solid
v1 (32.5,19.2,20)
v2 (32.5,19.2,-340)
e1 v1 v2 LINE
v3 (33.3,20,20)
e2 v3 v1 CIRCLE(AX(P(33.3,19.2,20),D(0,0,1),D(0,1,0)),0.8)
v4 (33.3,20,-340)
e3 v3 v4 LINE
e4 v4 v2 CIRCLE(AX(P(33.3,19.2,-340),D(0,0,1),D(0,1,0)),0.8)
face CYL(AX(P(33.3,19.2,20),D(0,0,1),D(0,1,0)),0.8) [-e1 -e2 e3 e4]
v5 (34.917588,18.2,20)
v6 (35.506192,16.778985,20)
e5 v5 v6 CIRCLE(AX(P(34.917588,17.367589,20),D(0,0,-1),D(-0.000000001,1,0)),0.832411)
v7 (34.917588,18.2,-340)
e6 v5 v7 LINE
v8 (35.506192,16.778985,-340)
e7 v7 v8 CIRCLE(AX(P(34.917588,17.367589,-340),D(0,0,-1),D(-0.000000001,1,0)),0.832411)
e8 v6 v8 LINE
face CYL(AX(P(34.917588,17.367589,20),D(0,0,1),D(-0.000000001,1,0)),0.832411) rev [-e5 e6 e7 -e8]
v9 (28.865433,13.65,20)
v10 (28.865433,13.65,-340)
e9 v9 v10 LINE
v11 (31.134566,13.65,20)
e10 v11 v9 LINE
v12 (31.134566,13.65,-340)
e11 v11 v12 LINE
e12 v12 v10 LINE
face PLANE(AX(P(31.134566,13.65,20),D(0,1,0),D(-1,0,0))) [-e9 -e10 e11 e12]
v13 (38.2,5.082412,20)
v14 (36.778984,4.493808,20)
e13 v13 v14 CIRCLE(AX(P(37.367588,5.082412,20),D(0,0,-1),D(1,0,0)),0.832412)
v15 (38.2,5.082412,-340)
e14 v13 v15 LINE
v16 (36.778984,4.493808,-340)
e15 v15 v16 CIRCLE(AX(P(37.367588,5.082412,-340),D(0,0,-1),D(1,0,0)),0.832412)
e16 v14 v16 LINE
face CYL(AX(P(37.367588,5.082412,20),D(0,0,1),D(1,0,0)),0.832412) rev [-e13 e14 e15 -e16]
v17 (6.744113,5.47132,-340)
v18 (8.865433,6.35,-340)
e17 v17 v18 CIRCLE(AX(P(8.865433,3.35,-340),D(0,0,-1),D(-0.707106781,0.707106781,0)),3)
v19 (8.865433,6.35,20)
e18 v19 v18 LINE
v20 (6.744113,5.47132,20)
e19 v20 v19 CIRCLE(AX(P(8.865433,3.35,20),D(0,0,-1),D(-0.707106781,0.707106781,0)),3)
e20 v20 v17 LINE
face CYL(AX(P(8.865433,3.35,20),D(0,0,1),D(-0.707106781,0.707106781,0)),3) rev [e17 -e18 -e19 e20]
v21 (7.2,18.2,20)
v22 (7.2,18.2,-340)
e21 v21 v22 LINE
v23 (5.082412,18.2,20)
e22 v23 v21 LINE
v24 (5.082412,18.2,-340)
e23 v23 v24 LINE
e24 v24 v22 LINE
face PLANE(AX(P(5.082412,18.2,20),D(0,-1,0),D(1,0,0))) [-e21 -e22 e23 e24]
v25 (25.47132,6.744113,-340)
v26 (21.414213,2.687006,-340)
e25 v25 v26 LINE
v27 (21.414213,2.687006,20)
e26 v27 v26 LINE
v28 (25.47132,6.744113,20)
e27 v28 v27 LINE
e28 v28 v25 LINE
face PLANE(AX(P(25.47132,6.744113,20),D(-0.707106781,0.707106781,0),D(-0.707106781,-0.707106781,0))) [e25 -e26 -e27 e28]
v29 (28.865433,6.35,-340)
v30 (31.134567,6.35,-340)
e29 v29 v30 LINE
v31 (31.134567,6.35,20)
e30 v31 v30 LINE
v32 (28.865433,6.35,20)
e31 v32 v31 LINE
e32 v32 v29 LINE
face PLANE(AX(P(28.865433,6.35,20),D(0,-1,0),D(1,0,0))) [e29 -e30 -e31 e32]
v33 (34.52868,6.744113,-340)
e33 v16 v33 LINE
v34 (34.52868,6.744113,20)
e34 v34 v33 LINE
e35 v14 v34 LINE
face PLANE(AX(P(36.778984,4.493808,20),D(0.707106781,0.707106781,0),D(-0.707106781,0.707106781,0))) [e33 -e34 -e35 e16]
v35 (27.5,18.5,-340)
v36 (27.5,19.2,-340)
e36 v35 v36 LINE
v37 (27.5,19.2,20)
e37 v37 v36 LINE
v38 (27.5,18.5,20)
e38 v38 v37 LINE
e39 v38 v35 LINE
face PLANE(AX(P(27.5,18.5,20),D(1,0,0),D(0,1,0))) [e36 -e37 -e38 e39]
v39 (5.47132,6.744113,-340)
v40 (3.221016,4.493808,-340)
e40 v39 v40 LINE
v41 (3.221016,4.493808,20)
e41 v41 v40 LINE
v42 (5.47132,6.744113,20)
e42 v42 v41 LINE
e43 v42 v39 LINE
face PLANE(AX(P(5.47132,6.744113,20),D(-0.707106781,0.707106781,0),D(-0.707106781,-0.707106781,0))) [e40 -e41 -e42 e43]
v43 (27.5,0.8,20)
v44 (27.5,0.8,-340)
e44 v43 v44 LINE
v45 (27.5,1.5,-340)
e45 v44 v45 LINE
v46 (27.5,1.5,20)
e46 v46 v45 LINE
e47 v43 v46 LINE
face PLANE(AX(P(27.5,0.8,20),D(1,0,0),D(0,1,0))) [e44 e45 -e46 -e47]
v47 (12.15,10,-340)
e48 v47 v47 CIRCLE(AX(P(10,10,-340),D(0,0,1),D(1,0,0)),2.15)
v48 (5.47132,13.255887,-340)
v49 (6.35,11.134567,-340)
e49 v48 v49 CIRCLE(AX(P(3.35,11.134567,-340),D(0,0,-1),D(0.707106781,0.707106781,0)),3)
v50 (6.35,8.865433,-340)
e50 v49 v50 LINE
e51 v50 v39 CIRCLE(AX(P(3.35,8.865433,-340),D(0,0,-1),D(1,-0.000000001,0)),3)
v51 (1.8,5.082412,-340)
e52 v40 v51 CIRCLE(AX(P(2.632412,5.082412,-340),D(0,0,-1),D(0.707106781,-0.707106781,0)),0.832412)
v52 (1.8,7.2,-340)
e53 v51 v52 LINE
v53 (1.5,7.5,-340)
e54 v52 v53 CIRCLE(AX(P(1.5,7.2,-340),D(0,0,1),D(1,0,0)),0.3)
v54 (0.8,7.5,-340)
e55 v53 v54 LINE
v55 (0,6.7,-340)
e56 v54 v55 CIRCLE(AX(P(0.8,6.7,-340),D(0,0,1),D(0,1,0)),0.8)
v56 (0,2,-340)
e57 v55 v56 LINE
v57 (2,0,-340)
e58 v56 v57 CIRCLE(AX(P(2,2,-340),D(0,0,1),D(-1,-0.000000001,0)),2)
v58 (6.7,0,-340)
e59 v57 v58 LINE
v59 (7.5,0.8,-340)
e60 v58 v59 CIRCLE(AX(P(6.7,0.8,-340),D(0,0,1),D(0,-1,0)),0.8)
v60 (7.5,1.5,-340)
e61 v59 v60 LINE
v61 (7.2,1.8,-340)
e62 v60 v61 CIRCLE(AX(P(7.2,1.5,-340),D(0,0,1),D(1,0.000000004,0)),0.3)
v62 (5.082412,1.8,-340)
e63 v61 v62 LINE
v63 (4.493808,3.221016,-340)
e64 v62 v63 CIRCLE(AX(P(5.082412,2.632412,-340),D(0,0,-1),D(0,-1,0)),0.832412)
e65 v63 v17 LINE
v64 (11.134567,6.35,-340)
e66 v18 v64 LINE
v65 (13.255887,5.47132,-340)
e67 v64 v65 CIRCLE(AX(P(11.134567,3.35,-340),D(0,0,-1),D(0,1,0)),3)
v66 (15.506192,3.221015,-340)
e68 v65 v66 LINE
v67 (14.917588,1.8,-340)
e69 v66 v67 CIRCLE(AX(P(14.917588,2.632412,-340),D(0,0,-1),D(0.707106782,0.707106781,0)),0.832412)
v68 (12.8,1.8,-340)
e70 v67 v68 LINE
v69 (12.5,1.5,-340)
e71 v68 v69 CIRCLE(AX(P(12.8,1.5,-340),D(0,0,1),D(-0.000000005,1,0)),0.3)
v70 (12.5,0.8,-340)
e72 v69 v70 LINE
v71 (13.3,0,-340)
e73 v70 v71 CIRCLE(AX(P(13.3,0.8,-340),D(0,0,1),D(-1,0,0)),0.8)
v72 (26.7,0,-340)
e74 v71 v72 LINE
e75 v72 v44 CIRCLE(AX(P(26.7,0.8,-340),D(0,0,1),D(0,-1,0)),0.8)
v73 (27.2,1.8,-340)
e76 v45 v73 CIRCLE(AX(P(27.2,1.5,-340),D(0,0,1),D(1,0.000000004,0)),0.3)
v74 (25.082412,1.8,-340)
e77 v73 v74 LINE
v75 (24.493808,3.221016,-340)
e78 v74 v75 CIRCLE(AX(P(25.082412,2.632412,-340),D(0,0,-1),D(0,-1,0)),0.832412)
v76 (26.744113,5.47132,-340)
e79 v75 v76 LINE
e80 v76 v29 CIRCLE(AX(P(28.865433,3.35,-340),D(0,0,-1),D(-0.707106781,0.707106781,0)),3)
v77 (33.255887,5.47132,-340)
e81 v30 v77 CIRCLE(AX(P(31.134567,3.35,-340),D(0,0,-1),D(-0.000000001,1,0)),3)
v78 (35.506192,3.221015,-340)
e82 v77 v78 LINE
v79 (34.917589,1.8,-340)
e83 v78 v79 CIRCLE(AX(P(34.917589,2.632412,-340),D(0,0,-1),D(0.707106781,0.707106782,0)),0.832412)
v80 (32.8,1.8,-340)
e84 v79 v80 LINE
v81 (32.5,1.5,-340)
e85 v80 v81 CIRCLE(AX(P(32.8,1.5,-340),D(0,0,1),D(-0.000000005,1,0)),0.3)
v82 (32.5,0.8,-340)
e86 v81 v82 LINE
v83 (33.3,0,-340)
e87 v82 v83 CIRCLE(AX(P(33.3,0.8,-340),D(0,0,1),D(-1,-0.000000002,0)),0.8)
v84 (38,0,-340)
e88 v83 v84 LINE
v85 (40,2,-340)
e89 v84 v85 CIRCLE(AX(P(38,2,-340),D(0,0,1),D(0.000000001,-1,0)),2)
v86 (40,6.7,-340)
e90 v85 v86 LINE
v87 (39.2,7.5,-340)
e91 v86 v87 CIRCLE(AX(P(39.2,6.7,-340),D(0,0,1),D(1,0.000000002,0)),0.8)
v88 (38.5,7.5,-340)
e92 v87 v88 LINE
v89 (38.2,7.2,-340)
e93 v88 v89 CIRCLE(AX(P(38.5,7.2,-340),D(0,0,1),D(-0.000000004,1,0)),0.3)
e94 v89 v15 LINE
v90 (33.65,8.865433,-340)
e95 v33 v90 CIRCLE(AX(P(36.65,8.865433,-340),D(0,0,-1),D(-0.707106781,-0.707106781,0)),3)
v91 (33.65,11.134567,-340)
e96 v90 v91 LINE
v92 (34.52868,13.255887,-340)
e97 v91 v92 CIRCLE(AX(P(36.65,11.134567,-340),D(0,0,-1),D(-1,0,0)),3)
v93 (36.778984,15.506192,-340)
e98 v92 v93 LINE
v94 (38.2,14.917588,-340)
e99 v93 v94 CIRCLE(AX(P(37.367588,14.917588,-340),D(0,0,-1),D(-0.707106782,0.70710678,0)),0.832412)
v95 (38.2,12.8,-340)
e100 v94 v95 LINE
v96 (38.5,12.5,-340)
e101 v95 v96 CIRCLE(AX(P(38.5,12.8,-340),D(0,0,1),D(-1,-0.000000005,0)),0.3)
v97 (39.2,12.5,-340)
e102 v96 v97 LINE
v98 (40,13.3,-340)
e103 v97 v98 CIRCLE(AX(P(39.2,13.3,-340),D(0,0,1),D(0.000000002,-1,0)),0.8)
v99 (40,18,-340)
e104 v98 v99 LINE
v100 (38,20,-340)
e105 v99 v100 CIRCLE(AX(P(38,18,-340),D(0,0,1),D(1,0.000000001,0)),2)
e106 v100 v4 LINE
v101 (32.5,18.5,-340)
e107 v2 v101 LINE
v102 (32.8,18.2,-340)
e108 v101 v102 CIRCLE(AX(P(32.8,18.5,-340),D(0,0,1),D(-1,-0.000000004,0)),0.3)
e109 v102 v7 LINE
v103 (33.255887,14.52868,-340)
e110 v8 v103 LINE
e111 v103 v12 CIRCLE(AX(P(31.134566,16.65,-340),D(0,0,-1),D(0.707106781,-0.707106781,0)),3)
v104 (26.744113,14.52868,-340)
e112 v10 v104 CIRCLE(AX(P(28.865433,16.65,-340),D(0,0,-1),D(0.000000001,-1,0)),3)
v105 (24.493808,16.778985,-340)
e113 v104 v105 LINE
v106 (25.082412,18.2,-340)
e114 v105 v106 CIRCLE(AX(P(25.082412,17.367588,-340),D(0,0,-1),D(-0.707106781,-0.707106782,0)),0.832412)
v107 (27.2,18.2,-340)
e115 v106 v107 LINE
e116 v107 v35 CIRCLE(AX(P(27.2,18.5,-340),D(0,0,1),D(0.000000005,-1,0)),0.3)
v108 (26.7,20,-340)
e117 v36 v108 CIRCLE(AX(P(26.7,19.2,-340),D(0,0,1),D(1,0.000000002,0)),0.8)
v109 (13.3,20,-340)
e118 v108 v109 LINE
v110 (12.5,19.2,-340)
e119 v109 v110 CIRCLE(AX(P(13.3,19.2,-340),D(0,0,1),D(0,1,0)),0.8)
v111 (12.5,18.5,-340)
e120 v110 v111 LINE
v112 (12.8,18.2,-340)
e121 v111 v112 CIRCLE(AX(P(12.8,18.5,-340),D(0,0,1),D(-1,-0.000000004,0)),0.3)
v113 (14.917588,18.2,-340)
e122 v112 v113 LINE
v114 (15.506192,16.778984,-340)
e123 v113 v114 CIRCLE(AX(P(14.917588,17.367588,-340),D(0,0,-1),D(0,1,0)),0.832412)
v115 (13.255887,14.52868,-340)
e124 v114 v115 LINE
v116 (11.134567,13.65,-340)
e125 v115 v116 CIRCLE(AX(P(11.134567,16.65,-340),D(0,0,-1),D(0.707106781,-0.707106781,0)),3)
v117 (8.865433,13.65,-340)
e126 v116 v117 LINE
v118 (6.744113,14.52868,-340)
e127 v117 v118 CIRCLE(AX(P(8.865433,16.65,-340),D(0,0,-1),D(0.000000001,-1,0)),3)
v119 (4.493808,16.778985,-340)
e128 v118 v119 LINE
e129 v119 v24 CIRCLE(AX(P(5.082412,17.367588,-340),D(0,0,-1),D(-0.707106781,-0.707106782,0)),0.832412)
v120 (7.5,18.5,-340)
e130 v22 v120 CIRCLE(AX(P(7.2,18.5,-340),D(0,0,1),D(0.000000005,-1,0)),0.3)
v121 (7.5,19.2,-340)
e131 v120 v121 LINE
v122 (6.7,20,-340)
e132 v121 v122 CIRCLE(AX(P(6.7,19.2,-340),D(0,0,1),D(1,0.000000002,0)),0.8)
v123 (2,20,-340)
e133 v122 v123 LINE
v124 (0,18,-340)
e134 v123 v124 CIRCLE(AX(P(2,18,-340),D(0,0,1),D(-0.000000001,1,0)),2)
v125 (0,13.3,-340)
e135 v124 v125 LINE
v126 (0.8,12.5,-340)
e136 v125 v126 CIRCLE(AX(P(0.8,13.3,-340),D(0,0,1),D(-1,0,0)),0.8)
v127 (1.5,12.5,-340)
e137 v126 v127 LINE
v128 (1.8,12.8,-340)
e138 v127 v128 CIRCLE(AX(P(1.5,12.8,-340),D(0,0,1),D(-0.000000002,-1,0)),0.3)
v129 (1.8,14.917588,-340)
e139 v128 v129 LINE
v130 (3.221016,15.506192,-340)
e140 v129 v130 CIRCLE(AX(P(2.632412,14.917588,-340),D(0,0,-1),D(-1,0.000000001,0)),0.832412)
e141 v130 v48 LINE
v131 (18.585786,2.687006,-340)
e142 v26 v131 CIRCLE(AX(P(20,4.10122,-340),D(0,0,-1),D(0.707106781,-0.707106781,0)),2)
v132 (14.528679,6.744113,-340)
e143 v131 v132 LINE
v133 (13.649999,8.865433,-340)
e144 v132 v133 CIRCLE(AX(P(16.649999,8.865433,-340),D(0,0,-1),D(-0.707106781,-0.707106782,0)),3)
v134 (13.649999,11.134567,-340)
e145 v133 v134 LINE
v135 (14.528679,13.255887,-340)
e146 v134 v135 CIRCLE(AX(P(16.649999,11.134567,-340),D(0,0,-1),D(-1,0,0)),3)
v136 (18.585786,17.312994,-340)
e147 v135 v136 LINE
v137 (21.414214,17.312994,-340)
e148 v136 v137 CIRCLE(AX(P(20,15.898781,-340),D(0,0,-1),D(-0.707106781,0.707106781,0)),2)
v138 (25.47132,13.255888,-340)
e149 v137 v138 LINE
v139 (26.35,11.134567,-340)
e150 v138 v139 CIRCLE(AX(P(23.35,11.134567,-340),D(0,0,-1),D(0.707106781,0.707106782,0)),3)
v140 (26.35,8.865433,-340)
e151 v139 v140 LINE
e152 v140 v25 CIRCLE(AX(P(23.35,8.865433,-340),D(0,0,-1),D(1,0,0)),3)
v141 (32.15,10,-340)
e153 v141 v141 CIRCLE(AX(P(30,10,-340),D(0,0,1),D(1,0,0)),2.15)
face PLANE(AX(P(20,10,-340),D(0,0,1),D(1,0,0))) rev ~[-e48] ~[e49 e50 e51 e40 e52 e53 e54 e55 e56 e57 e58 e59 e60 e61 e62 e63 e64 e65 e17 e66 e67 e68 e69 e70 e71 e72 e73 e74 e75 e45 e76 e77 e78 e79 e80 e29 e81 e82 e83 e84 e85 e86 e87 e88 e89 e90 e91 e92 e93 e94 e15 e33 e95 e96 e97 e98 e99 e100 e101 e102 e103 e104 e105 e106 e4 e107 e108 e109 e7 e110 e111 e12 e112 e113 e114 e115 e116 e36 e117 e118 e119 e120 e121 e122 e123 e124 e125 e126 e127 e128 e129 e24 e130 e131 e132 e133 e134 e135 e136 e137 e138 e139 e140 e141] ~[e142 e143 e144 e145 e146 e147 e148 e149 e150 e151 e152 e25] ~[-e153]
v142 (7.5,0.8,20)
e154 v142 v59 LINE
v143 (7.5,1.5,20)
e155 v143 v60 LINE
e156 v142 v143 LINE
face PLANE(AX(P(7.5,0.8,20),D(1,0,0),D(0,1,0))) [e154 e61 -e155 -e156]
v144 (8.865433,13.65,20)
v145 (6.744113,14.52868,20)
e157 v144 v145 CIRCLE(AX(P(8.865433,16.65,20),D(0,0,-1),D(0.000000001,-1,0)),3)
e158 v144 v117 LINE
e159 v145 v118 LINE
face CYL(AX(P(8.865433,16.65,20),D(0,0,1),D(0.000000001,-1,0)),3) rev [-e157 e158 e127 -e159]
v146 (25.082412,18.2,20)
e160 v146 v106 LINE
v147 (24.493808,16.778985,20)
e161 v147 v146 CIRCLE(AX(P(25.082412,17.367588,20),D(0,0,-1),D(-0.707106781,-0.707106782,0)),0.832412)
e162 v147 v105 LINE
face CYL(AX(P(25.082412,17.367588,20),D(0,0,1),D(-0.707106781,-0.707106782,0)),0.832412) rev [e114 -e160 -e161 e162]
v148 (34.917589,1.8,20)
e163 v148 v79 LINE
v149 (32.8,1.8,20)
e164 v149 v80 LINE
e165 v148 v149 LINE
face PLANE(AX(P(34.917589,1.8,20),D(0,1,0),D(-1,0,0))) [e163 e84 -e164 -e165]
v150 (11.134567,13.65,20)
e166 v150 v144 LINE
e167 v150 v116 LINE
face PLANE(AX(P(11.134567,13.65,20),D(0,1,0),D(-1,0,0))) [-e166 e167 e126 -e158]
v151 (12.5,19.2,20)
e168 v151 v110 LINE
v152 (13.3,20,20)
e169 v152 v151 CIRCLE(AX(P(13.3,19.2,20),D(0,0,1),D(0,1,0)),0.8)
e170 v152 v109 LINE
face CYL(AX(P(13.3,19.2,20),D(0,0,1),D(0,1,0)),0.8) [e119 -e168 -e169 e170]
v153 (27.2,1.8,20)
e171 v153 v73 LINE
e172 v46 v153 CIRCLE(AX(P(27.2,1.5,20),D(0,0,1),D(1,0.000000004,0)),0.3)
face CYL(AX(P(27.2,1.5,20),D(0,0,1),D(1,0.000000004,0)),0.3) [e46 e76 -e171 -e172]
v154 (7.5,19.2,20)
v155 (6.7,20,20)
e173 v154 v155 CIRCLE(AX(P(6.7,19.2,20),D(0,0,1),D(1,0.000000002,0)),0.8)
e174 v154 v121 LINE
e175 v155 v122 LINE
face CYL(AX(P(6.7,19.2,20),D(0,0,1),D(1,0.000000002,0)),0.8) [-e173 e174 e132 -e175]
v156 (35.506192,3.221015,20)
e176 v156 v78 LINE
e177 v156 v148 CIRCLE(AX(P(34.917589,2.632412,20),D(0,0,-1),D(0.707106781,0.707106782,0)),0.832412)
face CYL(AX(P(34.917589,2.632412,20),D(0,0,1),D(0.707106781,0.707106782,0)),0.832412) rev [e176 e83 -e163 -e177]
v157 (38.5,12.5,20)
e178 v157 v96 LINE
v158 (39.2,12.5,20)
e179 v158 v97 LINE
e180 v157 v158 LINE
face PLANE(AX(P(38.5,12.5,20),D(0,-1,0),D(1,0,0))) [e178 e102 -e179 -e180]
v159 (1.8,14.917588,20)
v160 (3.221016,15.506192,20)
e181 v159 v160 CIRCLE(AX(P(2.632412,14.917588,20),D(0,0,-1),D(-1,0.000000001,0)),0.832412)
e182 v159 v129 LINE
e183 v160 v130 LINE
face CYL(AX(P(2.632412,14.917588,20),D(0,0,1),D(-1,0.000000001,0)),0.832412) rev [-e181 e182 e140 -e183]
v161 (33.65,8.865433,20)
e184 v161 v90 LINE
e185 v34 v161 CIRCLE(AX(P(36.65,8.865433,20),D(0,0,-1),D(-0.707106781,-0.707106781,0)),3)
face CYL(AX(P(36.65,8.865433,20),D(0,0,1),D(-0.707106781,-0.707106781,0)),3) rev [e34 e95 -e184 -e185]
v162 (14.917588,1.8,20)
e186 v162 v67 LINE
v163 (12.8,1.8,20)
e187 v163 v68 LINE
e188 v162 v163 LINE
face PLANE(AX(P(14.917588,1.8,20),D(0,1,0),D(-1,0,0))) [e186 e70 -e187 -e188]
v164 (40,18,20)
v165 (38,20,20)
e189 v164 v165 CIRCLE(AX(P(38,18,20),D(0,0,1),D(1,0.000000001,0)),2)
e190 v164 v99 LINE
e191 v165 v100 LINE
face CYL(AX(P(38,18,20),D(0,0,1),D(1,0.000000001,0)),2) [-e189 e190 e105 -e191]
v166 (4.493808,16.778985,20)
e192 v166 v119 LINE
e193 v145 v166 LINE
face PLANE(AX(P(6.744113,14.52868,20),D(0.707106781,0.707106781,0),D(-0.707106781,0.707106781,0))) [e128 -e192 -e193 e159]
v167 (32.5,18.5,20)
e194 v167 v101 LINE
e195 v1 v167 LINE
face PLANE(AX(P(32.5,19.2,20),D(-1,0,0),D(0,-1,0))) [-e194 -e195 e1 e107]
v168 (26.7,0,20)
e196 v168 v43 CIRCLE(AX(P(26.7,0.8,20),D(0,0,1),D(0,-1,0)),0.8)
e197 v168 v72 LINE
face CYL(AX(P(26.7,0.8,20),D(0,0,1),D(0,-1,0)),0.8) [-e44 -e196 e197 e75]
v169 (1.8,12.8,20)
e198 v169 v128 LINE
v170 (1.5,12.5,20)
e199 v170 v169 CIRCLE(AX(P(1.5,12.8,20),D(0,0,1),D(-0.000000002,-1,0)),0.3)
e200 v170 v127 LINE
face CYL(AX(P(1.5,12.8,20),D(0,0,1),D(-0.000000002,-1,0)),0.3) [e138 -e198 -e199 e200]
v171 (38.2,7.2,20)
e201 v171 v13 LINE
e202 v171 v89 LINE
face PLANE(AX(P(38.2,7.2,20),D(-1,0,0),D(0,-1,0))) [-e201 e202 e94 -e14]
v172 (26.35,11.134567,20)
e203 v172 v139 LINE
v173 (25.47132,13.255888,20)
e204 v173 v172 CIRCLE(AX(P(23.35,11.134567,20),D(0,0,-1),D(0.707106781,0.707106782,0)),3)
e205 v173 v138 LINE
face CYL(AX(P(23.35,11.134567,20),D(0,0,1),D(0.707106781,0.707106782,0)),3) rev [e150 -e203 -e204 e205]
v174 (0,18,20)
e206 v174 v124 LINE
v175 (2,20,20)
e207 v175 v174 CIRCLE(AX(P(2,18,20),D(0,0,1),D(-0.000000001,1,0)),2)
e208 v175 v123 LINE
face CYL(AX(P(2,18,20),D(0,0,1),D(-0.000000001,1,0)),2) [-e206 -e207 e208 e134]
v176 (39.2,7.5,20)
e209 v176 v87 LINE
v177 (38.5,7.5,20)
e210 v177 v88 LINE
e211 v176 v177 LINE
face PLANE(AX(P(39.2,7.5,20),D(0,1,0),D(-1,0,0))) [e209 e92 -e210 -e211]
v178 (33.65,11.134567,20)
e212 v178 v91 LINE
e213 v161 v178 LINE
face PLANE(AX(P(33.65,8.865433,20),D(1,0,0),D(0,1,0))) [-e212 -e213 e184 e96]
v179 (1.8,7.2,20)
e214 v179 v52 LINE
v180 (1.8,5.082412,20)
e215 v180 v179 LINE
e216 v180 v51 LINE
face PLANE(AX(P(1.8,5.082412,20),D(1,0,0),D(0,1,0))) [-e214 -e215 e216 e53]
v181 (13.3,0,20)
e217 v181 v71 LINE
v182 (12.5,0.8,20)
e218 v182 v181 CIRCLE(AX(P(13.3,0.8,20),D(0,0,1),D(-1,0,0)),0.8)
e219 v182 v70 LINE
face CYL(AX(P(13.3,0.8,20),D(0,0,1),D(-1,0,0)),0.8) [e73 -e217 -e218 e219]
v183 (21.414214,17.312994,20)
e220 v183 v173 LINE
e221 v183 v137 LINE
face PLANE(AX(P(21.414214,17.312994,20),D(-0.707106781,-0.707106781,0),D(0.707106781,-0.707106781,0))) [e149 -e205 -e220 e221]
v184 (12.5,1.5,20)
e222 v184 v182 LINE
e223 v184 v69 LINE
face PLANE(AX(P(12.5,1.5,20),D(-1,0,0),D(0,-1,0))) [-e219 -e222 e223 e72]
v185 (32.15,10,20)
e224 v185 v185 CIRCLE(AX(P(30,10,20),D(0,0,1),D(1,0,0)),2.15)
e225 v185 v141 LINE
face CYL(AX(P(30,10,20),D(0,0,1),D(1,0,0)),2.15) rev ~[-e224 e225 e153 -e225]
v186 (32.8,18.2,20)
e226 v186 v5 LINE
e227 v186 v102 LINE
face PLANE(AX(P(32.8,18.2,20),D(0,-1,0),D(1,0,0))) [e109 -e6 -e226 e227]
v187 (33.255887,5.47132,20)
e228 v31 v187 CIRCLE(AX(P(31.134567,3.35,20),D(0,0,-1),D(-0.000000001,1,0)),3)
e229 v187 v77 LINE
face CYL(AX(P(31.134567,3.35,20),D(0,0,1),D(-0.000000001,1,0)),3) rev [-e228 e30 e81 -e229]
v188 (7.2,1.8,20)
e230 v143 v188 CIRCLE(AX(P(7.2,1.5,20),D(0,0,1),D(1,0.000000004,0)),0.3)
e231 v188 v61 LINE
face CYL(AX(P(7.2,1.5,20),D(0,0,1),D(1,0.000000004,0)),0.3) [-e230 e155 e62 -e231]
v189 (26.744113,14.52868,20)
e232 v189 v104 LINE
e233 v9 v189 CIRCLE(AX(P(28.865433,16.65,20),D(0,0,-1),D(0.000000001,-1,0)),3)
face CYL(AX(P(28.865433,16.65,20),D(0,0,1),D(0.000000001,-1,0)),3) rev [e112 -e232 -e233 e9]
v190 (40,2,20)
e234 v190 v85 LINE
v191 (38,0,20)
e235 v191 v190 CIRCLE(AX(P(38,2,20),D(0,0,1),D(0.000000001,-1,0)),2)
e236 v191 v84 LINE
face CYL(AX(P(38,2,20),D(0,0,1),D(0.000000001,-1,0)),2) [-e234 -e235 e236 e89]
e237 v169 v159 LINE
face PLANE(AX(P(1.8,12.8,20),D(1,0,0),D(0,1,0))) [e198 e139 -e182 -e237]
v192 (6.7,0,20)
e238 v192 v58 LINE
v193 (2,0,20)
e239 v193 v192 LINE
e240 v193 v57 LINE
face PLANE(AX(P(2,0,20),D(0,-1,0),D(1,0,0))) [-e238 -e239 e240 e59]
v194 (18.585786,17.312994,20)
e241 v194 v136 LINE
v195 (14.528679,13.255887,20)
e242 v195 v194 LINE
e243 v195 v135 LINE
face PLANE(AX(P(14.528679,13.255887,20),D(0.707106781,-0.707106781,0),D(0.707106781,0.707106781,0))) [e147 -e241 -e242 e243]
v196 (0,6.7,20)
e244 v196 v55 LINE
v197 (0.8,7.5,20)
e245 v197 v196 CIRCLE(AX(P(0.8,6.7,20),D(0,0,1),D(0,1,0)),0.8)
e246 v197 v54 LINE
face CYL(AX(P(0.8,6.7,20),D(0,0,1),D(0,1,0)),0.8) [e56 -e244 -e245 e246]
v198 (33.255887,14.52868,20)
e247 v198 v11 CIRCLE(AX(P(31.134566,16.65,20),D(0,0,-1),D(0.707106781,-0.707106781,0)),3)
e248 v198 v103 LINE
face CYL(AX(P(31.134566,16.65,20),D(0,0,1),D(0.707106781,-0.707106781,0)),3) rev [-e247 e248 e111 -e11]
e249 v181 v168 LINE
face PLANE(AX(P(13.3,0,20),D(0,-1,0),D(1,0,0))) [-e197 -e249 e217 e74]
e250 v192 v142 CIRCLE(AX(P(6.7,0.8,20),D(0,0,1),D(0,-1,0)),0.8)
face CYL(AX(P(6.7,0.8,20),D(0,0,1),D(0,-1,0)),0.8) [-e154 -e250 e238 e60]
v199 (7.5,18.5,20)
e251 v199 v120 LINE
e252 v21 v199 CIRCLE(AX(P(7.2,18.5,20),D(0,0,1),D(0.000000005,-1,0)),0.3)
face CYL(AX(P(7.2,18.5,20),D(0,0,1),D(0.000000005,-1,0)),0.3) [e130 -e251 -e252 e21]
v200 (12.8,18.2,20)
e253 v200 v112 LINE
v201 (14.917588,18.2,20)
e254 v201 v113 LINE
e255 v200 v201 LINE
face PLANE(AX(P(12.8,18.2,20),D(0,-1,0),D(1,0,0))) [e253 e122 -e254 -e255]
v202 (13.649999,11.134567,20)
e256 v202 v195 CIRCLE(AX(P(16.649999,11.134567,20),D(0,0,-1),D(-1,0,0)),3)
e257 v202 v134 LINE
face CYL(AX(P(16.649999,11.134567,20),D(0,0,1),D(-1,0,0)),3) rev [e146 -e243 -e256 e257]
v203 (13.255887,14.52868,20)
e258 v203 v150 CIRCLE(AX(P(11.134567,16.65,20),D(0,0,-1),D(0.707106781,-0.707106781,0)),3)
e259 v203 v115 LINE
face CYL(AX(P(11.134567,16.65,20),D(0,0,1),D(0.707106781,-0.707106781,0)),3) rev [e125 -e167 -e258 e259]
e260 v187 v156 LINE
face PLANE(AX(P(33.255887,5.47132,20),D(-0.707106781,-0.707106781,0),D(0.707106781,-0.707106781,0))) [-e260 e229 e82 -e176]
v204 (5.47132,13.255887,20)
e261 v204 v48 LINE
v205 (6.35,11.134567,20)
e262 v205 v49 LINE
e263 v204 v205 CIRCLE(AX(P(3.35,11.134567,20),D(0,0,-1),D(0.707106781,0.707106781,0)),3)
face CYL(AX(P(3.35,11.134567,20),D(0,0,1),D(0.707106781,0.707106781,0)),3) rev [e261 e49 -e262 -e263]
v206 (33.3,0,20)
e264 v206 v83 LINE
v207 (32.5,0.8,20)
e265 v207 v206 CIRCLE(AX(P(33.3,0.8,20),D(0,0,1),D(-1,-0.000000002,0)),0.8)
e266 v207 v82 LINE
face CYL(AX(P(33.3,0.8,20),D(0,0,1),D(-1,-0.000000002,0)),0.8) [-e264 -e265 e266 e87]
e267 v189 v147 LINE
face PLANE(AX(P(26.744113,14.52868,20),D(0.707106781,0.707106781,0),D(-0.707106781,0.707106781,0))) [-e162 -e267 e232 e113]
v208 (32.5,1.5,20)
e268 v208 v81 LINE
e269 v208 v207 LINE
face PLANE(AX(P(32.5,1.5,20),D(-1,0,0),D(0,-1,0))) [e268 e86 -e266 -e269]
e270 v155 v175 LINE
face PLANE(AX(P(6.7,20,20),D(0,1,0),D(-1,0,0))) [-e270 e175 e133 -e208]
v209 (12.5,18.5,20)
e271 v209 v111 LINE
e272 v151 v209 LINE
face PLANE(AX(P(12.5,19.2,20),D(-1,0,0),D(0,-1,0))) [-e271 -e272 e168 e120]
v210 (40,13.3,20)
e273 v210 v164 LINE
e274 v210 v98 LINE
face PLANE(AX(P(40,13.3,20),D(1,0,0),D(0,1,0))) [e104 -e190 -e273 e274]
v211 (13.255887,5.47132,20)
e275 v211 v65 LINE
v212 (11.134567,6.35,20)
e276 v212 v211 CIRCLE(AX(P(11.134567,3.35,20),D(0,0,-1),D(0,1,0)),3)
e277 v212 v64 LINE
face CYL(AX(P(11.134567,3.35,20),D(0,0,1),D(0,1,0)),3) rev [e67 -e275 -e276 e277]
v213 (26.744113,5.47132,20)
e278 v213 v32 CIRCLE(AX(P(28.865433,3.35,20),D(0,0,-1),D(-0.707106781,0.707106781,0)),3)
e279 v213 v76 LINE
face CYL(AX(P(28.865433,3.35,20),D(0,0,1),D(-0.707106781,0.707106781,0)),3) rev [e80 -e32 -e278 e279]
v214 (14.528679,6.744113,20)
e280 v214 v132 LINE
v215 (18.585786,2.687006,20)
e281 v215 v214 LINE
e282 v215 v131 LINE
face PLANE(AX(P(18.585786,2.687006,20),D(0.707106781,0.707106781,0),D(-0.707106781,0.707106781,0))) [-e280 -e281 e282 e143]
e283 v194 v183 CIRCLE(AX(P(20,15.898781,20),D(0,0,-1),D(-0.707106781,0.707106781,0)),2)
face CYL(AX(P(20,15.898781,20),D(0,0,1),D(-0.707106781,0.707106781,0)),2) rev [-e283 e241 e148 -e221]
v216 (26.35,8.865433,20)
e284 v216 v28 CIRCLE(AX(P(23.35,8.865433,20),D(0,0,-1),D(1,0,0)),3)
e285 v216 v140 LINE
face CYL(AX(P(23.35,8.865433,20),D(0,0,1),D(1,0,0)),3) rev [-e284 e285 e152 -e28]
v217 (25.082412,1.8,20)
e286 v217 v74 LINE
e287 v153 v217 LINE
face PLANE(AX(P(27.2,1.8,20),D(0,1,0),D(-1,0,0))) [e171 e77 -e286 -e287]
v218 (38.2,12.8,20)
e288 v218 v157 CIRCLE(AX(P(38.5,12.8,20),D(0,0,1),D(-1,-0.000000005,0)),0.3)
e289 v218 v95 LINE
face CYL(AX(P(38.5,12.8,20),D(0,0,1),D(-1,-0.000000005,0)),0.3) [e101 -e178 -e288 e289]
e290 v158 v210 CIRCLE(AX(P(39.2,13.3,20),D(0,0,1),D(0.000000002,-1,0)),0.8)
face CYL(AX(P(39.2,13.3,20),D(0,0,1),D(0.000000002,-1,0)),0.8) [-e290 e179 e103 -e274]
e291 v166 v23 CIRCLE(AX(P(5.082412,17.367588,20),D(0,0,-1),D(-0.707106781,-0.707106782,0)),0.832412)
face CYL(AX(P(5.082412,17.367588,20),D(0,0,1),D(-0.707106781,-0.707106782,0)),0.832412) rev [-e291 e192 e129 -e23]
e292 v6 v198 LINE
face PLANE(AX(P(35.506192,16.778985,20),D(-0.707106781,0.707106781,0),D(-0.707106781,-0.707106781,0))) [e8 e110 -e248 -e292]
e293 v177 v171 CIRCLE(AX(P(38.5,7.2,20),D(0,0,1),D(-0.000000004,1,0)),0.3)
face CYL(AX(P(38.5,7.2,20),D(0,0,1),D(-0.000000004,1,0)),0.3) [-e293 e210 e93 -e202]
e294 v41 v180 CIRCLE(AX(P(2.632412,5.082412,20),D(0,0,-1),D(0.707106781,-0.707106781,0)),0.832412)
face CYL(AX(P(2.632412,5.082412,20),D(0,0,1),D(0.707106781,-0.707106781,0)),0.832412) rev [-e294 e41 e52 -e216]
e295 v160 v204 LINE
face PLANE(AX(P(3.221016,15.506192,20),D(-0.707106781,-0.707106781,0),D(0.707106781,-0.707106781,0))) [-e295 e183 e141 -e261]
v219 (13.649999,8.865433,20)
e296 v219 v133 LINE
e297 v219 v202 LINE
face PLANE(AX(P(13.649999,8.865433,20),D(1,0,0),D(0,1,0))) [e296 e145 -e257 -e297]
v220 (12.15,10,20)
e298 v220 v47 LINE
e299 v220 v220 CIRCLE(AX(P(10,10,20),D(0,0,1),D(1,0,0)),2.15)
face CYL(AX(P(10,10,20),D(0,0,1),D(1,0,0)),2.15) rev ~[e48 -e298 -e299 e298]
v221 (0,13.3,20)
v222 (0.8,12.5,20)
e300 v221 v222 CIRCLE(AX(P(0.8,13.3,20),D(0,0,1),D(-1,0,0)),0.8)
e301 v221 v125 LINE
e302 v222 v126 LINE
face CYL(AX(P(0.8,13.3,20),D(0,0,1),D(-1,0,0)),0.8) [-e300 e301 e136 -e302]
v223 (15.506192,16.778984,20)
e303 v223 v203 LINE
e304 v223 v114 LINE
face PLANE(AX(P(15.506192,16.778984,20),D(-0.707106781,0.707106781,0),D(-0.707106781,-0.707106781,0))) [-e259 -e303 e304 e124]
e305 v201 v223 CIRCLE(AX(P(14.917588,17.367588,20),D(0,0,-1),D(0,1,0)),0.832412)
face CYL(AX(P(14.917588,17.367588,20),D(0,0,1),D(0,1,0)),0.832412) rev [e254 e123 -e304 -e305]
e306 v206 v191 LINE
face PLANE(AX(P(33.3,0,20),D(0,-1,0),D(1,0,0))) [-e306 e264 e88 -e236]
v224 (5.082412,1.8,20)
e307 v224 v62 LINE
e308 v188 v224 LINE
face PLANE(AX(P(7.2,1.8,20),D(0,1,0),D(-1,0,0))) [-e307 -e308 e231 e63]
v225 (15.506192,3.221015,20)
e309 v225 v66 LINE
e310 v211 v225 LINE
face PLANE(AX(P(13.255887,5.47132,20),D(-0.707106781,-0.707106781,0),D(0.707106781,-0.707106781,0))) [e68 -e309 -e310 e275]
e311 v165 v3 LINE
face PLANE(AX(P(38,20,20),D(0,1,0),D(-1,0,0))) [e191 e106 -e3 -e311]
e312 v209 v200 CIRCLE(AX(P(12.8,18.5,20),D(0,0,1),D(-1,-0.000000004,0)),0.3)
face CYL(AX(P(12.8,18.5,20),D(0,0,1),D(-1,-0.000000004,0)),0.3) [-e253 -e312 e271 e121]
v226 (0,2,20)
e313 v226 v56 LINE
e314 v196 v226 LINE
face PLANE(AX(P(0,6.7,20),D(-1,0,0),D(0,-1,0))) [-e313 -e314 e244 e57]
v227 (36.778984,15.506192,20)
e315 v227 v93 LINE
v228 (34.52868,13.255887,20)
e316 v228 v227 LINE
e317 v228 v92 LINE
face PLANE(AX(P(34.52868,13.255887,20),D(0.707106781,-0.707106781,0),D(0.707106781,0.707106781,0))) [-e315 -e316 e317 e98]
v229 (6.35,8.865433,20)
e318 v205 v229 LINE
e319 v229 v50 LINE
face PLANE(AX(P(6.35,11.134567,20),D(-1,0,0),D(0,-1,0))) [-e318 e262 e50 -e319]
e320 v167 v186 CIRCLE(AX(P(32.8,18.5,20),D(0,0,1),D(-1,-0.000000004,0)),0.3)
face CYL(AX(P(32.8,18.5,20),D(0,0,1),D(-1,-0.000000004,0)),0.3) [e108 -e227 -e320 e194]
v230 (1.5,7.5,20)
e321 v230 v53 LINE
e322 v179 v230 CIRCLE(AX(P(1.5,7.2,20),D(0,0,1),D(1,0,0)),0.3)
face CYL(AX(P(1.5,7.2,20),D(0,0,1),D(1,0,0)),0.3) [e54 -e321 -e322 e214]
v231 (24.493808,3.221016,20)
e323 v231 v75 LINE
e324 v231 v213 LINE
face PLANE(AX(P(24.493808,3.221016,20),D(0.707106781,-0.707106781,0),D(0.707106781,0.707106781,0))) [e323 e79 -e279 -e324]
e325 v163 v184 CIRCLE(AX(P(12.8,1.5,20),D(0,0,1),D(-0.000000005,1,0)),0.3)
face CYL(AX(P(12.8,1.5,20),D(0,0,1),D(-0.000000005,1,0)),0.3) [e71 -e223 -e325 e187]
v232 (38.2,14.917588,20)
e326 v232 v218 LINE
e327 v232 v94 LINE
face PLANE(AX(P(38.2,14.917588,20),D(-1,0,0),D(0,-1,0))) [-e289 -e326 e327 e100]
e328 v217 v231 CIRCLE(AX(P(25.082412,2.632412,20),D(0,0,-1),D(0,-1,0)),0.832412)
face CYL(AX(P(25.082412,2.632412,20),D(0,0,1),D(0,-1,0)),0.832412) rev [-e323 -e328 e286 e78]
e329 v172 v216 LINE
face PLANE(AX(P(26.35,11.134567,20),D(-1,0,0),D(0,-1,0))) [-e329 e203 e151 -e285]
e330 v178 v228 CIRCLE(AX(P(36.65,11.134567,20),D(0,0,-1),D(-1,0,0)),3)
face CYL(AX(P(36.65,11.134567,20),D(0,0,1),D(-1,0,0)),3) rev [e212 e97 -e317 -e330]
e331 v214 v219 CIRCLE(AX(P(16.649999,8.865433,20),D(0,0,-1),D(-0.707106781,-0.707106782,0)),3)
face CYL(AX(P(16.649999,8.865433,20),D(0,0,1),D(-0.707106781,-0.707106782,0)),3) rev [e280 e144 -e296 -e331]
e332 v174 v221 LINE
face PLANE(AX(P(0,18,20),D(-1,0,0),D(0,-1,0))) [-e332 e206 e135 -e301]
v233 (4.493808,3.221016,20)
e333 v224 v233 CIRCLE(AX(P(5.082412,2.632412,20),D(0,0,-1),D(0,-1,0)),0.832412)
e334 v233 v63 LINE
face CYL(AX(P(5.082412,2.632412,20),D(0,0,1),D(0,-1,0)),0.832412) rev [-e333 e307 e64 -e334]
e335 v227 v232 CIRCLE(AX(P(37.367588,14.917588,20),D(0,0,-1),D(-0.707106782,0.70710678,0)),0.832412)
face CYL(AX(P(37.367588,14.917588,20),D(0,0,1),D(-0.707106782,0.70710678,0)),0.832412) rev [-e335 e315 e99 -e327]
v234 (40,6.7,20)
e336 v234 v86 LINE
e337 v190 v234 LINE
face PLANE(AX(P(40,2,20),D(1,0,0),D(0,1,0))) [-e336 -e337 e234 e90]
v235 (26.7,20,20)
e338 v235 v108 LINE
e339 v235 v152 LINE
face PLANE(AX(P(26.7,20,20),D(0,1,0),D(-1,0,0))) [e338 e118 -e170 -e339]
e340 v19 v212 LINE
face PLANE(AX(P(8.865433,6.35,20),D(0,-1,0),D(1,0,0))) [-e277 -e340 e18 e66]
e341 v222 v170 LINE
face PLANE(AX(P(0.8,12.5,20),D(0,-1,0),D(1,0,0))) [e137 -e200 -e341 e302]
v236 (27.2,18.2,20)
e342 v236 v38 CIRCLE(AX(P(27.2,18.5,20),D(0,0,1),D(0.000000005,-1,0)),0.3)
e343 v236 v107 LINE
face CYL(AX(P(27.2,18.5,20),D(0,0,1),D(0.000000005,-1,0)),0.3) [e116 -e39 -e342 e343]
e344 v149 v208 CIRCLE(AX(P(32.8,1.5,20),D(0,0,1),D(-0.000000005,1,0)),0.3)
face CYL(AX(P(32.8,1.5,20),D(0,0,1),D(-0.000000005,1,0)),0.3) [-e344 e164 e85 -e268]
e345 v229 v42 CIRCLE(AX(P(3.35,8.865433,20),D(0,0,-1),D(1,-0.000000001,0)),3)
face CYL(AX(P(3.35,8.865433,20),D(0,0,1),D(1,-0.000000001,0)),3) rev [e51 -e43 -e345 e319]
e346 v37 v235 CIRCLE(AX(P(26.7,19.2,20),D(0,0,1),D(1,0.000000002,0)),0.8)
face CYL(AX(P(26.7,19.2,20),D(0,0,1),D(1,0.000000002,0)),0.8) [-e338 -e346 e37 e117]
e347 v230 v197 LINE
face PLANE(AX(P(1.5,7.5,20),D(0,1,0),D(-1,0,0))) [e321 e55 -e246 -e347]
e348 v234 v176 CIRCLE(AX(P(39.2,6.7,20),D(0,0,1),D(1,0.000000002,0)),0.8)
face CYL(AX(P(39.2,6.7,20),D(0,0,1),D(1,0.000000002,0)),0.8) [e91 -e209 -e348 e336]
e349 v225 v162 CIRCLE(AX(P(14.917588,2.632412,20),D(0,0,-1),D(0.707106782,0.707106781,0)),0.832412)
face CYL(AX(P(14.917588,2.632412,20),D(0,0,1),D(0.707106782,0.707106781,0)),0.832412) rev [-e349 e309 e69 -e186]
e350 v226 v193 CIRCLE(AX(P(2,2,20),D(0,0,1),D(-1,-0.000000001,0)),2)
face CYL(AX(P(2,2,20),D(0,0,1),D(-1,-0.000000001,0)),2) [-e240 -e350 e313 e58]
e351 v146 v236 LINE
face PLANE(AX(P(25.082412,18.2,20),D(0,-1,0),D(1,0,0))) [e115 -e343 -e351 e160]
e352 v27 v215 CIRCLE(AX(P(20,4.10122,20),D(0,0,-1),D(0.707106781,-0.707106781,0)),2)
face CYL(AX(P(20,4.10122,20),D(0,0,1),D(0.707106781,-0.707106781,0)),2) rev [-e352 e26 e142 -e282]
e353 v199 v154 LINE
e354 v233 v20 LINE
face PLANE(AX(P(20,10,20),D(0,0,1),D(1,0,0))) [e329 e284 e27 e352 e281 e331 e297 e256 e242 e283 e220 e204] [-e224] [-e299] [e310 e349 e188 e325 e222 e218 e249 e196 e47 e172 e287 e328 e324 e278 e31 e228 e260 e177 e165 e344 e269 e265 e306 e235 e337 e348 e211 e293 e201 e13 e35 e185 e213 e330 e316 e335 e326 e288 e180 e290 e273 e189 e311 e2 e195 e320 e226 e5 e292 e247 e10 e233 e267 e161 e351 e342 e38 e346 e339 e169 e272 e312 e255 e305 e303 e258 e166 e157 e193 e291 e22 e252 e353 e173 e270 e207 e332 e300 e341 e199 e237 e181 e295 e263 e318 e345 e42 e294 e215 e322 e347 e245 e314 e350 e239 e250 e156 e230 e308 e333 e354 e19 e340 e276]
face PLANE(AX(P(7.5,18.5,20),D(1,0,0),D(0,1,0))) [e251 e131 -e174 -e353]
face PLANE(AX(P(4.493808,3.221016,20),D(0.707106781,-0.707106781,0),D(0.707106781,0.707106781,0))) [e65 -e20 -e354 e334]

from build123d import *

# Parameters (mm, degrees)
CROQUIS1_R              = 2.15
SALIENTE_EXTRUIR1_DEPTH = 360


with BuildPart() as part:
    # Croquis1 → Saliente-Extruir1 (new body)
    with BuildSketch(Plane.XY.offset(20)):
        with BuildLine():
            Line((32.499999987, 1.499999997), (32.499999987, 0.800000002))
            ThreePointArc((32.499999987, 0.800000002), (32.734314563, 0.234314576), (33.29999999, 0))
            Line((33.29999999, 0), (38, 0))
            ThreePointArc((38, 0), (39.414213562, 0.585786438), (40, 2))
            Line((40, 2), (40, 6.700000003))
            ThreePointArc((40, 6.700000003), (39.765685425, 7.265685427), (39.2, 7.500000003))
            Line((39.2, 7.500000003), (38.499999996, 7.500000003))
            ThreePointArc((38.499999996, 7.500000003), (38.287867962, 7.412132037), (38.199999996, 7.200000003))
            Line((38.199999996, 7.200000003), (38.199999996, 5.082411612))
            ThreePointArc((38.199999996, 5.082411612), (37.686138518, 4.313363563), (36.778984492, 4.493807718))
            Line((36.778984492, 4.493807718), (34.528679652, 6.744112558))
            ThreePointArc((34.528679652, 6.744112558), (33.878361399, 7.717382603), (33.649999997, 8.865432898))
            Line((33.649999997, 8.865432898), (33.649999997, 11.134567109))
            ThreePointArc((33.649999997, 11.134567109), (33.878361399, 12.282617405), (34.528679653, 13.255887451))
            Line((34.528679653, 13.255887451), (36.778984498, 15.506192296))
            ThreePointArc((36.778984498, 15.506192296), (37.68613852, 15.686636451), (38.199999996, 14.917588405))
            Line((38.199999996, 14.917588405), (38.199999996, 12.800000003))
            ThreePointArc((38.199999996, 12.800000003), (38.287867963, 12.587867967), (38.499999999, 12.5))
            Line((38.499999999, 12.5), (39.199999998, 12.5))
            ThreePointArc((39.199999998, 12.5), (39.765685424, 12.734314576), (40, 13.300000002))
            Line((40, 13.300000002), (40, 18))
            ThreePointArc((40, 18), (39.414213562, 19.414213562), (38, 20))
            Line((38, 20), (33.299999987, 20))
            ThreePointArc((33.299999987, 20), (32.734314562, 19.765685425), (32.499999987, 19.2))
            Line((32.499999987, 19.2), (32.499999987, 18.499999997))
            ThreePointArc((32.499999987, 18.499999997), (32.587867953, 18.287867963), (32.799999987, 18.199999997))
            Line((32.799999987, 18.199999997), (34.917587986, 18.199999997))
            ThreePointArc((34.917587986, 18.199999997), (35.686635927, 17.686138592), (35.506191797, 16.778984693))
            Line((35.506191797, 16.778984693), (33.255886766, 14.528679662))
            ThreePointArc((33.255886766, 14.528679662), (32.282616721, 13.878361409), (31.134566426, 13.650000007))
            Line((31.134566426, 13.650000007), (28.86543289, 13.650000007))
            ThreePointArc((28.86543289, 13.650000007), (27.717382593, 13.878361409), (26.744112547, 14.528679663))
            Line((26.744112547, 14.528679663), (24.493807707, 16.778984503))
            ThreePointArc((24.493807707, 16.778984503), (24.313363553, 17.686138523), (25.082411597, 18.199999997))
            Line((25.082411597, 18.199999997), (27.199999997, 18.199999997))
            ThreePointArc((27.199999997, 18.199999997), (27.412132033, 18.287867964), (27.5, 18.5))
            Line((27.5, 18.5), (27.5, 19.199999998))
            ThreePointArc((27.5, 19.199999998), (27.265685424, 19.765685424), (26.699999997, 20))
            Line((26.699999997, 20), (13.299999987, 20))
            ThreePointArc((13.299999987, 20), (12.734314562, 19.765685425), (12.499999987, 19.2))
            Line((12.499999987, 19.2), (12.499999987, 18.499999997))
            ThreePointArc((12.499999987, 18.499999997), (12.587867953, 18.287867963), (12.799999987, 18.199999997))
            Line((12.799999987, 18.199999997), (14.917588389, 18.199999997))
            ThreePointArc((14.917588389, 18.199999997), (15.686636438, 17.686138519), (15.506192283, 16.778984493))
            Line((15.506192283, 16.778984493), (13.255887452, 14.528679662))
            ThreePointArc((13.255887452, 14.528679662), (12.282617407, 13.878361409), (11.134567112, 13.650000007))
            Line((11.134567112, 13.650000007), (8.86543289, 13.650000007))
            ThreePointArc((8.86543289, 13.650000007), (7.717382593, 13.878361409), (6.744112547, 14.528679663))
            Line((6.744112547, 14.528679663), (4.493807707, 16.778984503))
            ThreePointArc((4.493807707, 16.778984503), (4.313363553, 17.686138523), (5.082411597, 18.199999997))
            Line((5.082411597, 18.199999997), (7.199999997, 18.199999997))
            ThreePointArc((7.199999997, 18.199999997), (7.412132033, 18.287867964), (7.5, 18.5))
            Line((7.5, 18.5), (7.5, 19.199999998))
            ThreePointArc((7.5, 19.199999998), (7.265685424, 19.765685424), (6.699999997, 20))
            Line((6.699999997, 20), (2, 20))
            ThreePointArc((2, 20), (0.585786438, 19.414213562), (0, 18))
            Line((0, 18), (0, 13.3))
            ThreePointArc((0, 13.3), (0.234314575, 12.734314575), (0.8, 12.5))
            Line((0.8, 12.5), (1.500000005, 12.5))
            ThreePointArc((1.500000005, 12.5), (1.71213204, 12.587867966), (1.800000005, 12.8))
            Line((1.800000005, 12.8), (1.800000005, 14.91758839))
            ThreePointArc((1.800000005, 14.91758839), (2.313861483, 15.686636439), (3.22101551, 15.506192284))
            Line((3.22101551, 15.506192284), (5.471320341, 13.255887453))
            ThreePointArc((5.471320341, 13.255887453), (6.121638594, 12.282617408), (6.349999996, 11.134567113))
            Line((6.349999996, 11.134567113), (6.349999996, 8.865432892))
            ThreePointArc((6.349999996, 8.865432892), (6.121638593, 7.717382596), (5.47132034, 6.74411255))
            Line((5.47132034, 6.74411255), (3.2210155, 4.49380771))
            ThreePointArc((3.2210155, 4.49380771), (2.31386148, 4.313363556), (1.800000005, 5.0824116))
            Line((1.800000005, 5.0824116), (1.800000005, 7.2))
            ThreePointArc((1.800000005, 7.2), (1.712132039, 7.412132036), (1.500000003, 7.500000003))
            Line((1.500000003, 7.500000003), (0.800000003, 7.500000003))
            ThreePointArc((0.800000003, 7.500000003), (0.234314576, 7.265685427), (0, 6.7))
            Line((0, 6.7), (0, 2))
            ThreePointArc((0, 2), (0.585786438, 0.585786438), (2, 0))
            Line((2, 0), (6.7, 0))
            ThreePointArc((6.7, 0), (7.265685425, 0.234314575), (7.5, 0.8))
            Line((7.5, 0.8), (7.5, 1.5))
            ThreePointArc((7.5, 1.5), (7.412132034, 1.712132034), (7.2, 1.8))
            Line((7.2, 1.8), (5.0824116, 1.8))
            ThreePointArc((5.0824116, 1.8), (4.313363551, 2.313861478), (4.493807706, 3.221015504))
            Line((4.493807706, 3.221015504), (6.744112546, 5.471320344))
            ThreePointArc((6.744112546, 5.471320344), (7.717382591, 6.121638597), (8.865432886, 6.349999999))
            Line((8.865432886, 6.349999999), (11.134567108, 6.349999999))
            ThreePointArc((11.134567108, 6.349999999), (12.282617404, 6.121638597), (13.25588745, 5.471320343))
            Line((13.25588745, 5.471320343), (15.506192295, 3.221015498))
            ThreePointArc((15.506192295, 3.221015498), (15.686636449, 2.313861476), (14.917588403, 1.8))
            Line((14.917588403, 1.8), (12.79999999, 1.8))
            ThreePointArc((12.79999999, 1.8), (12.587867954, 1.712132033), (12.499999987, 1.499999997))
            Line((12.499999987, 1.499999997), (12.499999987, 0.800000003))
            ThreePointArc((12.499999987, 0.800000003), (12.734314563, 0.234314576), (13.29999999, 0))
            Line((13.29999999, 0), (26.7, 0))
            ThreePointArc((26.7, 0), (27.265685425, 0.234314575), (27.5, 0.8))
            Line((27.5, 0.8), (27.5, 1.5))
            ThreePointArc((27.5, 1.5), (27.412132034, 1.712132034), (27.2, 1.8))
            Line((27.2, 1.8), (25.0824116, 1.8))
            ThreePointArc((25.0824116, 1.8), (24.313363551, 2.313861478), (24.493807706, 3.221015504))
            Line((24.493807706, 3.221015504), (26.744112546, 5.471320344))
            ThreePointArc((26.744112546, 5.471320344), (27.717382591, 6.121638597), (28.865432886, 6.349999999))
            Line((28.865432886, 6.349999999), (31.134567114, 6.349999999))
            ThreePointArc((31.134567114, 6.349999999), (32.282617411, 6.121638597), (33.255887457, 5.471320343))
            Line((33.255887457, 5.471320343), (35.506192392, 3.221015408))
            ThreePointArc((35.506192392, 3.221015408), (35.686636535, 2.313861443), (34.917588538, 1.8))
            Line((34.917588538, 1.8), (32.79999999, 1.8))
            ThreePointArc((32.79999999, 1.8), (32.587867954, 1.712132033), (32.499999987, 1.499999997))
        make_face()
        with Locations((10, 10)):
            Circle(CROQUIS1_R, mode=Mode.SUBTRACT)
        with Locations((30, 10)):
            Circle(CROQUIS1_R, mode=Mode.SUBTRACT)
        with BuildLine():
            Line((18.585786097, 2.687006113), (14.528679097, 6.744113113))
            ThreePointArc((14.528679097, 6.744113113), (13.878360843, 7.717383159), (13.649999441, 8.865433456))
            Line((13.649999441, 8.865433456), (13.649999441, 11.134566554))
            ThreePointArc((13.649999441, 11.134566554), (13.878360843, 12.282616849), (14.528679096, 13.255886895))
            Line((14.528679096, 13.255886895), (18.585786441, 17.312994239))
            ThreePointArc((18.585786441, 17.312994239), (20.000000001, 17.898780676), (21.414213561, 17.312994239))
            Line((21.414213561, 17.312994239), (25.471320216, 13.255887584))
            ThreePointArc((25.471320216, 13.255887584), (26.12163847, 12.282617538), (26.349999872, 11.13456724))
            Line((26.349999872, 11.13456724), (26.349999872, 8.865433454))
            ThreePointArc((26.349999872, 8.865433454), (26.12163847, 7.717383158), (25.471320217, 6.744113113))
            Line((25.471320217, 6.744113113), (21.414213217, 2.687006113))
            ThreePointArc((21.414213217, 2.687006113), (19.999999657, 2.101219676), (18.585786097, 2.687006113))
        make_face(mode=Mode.SUBTRACT)
    extrude(amount=-SALIENTE_EXTRUIR1_DEPTH)


solid = part.part
